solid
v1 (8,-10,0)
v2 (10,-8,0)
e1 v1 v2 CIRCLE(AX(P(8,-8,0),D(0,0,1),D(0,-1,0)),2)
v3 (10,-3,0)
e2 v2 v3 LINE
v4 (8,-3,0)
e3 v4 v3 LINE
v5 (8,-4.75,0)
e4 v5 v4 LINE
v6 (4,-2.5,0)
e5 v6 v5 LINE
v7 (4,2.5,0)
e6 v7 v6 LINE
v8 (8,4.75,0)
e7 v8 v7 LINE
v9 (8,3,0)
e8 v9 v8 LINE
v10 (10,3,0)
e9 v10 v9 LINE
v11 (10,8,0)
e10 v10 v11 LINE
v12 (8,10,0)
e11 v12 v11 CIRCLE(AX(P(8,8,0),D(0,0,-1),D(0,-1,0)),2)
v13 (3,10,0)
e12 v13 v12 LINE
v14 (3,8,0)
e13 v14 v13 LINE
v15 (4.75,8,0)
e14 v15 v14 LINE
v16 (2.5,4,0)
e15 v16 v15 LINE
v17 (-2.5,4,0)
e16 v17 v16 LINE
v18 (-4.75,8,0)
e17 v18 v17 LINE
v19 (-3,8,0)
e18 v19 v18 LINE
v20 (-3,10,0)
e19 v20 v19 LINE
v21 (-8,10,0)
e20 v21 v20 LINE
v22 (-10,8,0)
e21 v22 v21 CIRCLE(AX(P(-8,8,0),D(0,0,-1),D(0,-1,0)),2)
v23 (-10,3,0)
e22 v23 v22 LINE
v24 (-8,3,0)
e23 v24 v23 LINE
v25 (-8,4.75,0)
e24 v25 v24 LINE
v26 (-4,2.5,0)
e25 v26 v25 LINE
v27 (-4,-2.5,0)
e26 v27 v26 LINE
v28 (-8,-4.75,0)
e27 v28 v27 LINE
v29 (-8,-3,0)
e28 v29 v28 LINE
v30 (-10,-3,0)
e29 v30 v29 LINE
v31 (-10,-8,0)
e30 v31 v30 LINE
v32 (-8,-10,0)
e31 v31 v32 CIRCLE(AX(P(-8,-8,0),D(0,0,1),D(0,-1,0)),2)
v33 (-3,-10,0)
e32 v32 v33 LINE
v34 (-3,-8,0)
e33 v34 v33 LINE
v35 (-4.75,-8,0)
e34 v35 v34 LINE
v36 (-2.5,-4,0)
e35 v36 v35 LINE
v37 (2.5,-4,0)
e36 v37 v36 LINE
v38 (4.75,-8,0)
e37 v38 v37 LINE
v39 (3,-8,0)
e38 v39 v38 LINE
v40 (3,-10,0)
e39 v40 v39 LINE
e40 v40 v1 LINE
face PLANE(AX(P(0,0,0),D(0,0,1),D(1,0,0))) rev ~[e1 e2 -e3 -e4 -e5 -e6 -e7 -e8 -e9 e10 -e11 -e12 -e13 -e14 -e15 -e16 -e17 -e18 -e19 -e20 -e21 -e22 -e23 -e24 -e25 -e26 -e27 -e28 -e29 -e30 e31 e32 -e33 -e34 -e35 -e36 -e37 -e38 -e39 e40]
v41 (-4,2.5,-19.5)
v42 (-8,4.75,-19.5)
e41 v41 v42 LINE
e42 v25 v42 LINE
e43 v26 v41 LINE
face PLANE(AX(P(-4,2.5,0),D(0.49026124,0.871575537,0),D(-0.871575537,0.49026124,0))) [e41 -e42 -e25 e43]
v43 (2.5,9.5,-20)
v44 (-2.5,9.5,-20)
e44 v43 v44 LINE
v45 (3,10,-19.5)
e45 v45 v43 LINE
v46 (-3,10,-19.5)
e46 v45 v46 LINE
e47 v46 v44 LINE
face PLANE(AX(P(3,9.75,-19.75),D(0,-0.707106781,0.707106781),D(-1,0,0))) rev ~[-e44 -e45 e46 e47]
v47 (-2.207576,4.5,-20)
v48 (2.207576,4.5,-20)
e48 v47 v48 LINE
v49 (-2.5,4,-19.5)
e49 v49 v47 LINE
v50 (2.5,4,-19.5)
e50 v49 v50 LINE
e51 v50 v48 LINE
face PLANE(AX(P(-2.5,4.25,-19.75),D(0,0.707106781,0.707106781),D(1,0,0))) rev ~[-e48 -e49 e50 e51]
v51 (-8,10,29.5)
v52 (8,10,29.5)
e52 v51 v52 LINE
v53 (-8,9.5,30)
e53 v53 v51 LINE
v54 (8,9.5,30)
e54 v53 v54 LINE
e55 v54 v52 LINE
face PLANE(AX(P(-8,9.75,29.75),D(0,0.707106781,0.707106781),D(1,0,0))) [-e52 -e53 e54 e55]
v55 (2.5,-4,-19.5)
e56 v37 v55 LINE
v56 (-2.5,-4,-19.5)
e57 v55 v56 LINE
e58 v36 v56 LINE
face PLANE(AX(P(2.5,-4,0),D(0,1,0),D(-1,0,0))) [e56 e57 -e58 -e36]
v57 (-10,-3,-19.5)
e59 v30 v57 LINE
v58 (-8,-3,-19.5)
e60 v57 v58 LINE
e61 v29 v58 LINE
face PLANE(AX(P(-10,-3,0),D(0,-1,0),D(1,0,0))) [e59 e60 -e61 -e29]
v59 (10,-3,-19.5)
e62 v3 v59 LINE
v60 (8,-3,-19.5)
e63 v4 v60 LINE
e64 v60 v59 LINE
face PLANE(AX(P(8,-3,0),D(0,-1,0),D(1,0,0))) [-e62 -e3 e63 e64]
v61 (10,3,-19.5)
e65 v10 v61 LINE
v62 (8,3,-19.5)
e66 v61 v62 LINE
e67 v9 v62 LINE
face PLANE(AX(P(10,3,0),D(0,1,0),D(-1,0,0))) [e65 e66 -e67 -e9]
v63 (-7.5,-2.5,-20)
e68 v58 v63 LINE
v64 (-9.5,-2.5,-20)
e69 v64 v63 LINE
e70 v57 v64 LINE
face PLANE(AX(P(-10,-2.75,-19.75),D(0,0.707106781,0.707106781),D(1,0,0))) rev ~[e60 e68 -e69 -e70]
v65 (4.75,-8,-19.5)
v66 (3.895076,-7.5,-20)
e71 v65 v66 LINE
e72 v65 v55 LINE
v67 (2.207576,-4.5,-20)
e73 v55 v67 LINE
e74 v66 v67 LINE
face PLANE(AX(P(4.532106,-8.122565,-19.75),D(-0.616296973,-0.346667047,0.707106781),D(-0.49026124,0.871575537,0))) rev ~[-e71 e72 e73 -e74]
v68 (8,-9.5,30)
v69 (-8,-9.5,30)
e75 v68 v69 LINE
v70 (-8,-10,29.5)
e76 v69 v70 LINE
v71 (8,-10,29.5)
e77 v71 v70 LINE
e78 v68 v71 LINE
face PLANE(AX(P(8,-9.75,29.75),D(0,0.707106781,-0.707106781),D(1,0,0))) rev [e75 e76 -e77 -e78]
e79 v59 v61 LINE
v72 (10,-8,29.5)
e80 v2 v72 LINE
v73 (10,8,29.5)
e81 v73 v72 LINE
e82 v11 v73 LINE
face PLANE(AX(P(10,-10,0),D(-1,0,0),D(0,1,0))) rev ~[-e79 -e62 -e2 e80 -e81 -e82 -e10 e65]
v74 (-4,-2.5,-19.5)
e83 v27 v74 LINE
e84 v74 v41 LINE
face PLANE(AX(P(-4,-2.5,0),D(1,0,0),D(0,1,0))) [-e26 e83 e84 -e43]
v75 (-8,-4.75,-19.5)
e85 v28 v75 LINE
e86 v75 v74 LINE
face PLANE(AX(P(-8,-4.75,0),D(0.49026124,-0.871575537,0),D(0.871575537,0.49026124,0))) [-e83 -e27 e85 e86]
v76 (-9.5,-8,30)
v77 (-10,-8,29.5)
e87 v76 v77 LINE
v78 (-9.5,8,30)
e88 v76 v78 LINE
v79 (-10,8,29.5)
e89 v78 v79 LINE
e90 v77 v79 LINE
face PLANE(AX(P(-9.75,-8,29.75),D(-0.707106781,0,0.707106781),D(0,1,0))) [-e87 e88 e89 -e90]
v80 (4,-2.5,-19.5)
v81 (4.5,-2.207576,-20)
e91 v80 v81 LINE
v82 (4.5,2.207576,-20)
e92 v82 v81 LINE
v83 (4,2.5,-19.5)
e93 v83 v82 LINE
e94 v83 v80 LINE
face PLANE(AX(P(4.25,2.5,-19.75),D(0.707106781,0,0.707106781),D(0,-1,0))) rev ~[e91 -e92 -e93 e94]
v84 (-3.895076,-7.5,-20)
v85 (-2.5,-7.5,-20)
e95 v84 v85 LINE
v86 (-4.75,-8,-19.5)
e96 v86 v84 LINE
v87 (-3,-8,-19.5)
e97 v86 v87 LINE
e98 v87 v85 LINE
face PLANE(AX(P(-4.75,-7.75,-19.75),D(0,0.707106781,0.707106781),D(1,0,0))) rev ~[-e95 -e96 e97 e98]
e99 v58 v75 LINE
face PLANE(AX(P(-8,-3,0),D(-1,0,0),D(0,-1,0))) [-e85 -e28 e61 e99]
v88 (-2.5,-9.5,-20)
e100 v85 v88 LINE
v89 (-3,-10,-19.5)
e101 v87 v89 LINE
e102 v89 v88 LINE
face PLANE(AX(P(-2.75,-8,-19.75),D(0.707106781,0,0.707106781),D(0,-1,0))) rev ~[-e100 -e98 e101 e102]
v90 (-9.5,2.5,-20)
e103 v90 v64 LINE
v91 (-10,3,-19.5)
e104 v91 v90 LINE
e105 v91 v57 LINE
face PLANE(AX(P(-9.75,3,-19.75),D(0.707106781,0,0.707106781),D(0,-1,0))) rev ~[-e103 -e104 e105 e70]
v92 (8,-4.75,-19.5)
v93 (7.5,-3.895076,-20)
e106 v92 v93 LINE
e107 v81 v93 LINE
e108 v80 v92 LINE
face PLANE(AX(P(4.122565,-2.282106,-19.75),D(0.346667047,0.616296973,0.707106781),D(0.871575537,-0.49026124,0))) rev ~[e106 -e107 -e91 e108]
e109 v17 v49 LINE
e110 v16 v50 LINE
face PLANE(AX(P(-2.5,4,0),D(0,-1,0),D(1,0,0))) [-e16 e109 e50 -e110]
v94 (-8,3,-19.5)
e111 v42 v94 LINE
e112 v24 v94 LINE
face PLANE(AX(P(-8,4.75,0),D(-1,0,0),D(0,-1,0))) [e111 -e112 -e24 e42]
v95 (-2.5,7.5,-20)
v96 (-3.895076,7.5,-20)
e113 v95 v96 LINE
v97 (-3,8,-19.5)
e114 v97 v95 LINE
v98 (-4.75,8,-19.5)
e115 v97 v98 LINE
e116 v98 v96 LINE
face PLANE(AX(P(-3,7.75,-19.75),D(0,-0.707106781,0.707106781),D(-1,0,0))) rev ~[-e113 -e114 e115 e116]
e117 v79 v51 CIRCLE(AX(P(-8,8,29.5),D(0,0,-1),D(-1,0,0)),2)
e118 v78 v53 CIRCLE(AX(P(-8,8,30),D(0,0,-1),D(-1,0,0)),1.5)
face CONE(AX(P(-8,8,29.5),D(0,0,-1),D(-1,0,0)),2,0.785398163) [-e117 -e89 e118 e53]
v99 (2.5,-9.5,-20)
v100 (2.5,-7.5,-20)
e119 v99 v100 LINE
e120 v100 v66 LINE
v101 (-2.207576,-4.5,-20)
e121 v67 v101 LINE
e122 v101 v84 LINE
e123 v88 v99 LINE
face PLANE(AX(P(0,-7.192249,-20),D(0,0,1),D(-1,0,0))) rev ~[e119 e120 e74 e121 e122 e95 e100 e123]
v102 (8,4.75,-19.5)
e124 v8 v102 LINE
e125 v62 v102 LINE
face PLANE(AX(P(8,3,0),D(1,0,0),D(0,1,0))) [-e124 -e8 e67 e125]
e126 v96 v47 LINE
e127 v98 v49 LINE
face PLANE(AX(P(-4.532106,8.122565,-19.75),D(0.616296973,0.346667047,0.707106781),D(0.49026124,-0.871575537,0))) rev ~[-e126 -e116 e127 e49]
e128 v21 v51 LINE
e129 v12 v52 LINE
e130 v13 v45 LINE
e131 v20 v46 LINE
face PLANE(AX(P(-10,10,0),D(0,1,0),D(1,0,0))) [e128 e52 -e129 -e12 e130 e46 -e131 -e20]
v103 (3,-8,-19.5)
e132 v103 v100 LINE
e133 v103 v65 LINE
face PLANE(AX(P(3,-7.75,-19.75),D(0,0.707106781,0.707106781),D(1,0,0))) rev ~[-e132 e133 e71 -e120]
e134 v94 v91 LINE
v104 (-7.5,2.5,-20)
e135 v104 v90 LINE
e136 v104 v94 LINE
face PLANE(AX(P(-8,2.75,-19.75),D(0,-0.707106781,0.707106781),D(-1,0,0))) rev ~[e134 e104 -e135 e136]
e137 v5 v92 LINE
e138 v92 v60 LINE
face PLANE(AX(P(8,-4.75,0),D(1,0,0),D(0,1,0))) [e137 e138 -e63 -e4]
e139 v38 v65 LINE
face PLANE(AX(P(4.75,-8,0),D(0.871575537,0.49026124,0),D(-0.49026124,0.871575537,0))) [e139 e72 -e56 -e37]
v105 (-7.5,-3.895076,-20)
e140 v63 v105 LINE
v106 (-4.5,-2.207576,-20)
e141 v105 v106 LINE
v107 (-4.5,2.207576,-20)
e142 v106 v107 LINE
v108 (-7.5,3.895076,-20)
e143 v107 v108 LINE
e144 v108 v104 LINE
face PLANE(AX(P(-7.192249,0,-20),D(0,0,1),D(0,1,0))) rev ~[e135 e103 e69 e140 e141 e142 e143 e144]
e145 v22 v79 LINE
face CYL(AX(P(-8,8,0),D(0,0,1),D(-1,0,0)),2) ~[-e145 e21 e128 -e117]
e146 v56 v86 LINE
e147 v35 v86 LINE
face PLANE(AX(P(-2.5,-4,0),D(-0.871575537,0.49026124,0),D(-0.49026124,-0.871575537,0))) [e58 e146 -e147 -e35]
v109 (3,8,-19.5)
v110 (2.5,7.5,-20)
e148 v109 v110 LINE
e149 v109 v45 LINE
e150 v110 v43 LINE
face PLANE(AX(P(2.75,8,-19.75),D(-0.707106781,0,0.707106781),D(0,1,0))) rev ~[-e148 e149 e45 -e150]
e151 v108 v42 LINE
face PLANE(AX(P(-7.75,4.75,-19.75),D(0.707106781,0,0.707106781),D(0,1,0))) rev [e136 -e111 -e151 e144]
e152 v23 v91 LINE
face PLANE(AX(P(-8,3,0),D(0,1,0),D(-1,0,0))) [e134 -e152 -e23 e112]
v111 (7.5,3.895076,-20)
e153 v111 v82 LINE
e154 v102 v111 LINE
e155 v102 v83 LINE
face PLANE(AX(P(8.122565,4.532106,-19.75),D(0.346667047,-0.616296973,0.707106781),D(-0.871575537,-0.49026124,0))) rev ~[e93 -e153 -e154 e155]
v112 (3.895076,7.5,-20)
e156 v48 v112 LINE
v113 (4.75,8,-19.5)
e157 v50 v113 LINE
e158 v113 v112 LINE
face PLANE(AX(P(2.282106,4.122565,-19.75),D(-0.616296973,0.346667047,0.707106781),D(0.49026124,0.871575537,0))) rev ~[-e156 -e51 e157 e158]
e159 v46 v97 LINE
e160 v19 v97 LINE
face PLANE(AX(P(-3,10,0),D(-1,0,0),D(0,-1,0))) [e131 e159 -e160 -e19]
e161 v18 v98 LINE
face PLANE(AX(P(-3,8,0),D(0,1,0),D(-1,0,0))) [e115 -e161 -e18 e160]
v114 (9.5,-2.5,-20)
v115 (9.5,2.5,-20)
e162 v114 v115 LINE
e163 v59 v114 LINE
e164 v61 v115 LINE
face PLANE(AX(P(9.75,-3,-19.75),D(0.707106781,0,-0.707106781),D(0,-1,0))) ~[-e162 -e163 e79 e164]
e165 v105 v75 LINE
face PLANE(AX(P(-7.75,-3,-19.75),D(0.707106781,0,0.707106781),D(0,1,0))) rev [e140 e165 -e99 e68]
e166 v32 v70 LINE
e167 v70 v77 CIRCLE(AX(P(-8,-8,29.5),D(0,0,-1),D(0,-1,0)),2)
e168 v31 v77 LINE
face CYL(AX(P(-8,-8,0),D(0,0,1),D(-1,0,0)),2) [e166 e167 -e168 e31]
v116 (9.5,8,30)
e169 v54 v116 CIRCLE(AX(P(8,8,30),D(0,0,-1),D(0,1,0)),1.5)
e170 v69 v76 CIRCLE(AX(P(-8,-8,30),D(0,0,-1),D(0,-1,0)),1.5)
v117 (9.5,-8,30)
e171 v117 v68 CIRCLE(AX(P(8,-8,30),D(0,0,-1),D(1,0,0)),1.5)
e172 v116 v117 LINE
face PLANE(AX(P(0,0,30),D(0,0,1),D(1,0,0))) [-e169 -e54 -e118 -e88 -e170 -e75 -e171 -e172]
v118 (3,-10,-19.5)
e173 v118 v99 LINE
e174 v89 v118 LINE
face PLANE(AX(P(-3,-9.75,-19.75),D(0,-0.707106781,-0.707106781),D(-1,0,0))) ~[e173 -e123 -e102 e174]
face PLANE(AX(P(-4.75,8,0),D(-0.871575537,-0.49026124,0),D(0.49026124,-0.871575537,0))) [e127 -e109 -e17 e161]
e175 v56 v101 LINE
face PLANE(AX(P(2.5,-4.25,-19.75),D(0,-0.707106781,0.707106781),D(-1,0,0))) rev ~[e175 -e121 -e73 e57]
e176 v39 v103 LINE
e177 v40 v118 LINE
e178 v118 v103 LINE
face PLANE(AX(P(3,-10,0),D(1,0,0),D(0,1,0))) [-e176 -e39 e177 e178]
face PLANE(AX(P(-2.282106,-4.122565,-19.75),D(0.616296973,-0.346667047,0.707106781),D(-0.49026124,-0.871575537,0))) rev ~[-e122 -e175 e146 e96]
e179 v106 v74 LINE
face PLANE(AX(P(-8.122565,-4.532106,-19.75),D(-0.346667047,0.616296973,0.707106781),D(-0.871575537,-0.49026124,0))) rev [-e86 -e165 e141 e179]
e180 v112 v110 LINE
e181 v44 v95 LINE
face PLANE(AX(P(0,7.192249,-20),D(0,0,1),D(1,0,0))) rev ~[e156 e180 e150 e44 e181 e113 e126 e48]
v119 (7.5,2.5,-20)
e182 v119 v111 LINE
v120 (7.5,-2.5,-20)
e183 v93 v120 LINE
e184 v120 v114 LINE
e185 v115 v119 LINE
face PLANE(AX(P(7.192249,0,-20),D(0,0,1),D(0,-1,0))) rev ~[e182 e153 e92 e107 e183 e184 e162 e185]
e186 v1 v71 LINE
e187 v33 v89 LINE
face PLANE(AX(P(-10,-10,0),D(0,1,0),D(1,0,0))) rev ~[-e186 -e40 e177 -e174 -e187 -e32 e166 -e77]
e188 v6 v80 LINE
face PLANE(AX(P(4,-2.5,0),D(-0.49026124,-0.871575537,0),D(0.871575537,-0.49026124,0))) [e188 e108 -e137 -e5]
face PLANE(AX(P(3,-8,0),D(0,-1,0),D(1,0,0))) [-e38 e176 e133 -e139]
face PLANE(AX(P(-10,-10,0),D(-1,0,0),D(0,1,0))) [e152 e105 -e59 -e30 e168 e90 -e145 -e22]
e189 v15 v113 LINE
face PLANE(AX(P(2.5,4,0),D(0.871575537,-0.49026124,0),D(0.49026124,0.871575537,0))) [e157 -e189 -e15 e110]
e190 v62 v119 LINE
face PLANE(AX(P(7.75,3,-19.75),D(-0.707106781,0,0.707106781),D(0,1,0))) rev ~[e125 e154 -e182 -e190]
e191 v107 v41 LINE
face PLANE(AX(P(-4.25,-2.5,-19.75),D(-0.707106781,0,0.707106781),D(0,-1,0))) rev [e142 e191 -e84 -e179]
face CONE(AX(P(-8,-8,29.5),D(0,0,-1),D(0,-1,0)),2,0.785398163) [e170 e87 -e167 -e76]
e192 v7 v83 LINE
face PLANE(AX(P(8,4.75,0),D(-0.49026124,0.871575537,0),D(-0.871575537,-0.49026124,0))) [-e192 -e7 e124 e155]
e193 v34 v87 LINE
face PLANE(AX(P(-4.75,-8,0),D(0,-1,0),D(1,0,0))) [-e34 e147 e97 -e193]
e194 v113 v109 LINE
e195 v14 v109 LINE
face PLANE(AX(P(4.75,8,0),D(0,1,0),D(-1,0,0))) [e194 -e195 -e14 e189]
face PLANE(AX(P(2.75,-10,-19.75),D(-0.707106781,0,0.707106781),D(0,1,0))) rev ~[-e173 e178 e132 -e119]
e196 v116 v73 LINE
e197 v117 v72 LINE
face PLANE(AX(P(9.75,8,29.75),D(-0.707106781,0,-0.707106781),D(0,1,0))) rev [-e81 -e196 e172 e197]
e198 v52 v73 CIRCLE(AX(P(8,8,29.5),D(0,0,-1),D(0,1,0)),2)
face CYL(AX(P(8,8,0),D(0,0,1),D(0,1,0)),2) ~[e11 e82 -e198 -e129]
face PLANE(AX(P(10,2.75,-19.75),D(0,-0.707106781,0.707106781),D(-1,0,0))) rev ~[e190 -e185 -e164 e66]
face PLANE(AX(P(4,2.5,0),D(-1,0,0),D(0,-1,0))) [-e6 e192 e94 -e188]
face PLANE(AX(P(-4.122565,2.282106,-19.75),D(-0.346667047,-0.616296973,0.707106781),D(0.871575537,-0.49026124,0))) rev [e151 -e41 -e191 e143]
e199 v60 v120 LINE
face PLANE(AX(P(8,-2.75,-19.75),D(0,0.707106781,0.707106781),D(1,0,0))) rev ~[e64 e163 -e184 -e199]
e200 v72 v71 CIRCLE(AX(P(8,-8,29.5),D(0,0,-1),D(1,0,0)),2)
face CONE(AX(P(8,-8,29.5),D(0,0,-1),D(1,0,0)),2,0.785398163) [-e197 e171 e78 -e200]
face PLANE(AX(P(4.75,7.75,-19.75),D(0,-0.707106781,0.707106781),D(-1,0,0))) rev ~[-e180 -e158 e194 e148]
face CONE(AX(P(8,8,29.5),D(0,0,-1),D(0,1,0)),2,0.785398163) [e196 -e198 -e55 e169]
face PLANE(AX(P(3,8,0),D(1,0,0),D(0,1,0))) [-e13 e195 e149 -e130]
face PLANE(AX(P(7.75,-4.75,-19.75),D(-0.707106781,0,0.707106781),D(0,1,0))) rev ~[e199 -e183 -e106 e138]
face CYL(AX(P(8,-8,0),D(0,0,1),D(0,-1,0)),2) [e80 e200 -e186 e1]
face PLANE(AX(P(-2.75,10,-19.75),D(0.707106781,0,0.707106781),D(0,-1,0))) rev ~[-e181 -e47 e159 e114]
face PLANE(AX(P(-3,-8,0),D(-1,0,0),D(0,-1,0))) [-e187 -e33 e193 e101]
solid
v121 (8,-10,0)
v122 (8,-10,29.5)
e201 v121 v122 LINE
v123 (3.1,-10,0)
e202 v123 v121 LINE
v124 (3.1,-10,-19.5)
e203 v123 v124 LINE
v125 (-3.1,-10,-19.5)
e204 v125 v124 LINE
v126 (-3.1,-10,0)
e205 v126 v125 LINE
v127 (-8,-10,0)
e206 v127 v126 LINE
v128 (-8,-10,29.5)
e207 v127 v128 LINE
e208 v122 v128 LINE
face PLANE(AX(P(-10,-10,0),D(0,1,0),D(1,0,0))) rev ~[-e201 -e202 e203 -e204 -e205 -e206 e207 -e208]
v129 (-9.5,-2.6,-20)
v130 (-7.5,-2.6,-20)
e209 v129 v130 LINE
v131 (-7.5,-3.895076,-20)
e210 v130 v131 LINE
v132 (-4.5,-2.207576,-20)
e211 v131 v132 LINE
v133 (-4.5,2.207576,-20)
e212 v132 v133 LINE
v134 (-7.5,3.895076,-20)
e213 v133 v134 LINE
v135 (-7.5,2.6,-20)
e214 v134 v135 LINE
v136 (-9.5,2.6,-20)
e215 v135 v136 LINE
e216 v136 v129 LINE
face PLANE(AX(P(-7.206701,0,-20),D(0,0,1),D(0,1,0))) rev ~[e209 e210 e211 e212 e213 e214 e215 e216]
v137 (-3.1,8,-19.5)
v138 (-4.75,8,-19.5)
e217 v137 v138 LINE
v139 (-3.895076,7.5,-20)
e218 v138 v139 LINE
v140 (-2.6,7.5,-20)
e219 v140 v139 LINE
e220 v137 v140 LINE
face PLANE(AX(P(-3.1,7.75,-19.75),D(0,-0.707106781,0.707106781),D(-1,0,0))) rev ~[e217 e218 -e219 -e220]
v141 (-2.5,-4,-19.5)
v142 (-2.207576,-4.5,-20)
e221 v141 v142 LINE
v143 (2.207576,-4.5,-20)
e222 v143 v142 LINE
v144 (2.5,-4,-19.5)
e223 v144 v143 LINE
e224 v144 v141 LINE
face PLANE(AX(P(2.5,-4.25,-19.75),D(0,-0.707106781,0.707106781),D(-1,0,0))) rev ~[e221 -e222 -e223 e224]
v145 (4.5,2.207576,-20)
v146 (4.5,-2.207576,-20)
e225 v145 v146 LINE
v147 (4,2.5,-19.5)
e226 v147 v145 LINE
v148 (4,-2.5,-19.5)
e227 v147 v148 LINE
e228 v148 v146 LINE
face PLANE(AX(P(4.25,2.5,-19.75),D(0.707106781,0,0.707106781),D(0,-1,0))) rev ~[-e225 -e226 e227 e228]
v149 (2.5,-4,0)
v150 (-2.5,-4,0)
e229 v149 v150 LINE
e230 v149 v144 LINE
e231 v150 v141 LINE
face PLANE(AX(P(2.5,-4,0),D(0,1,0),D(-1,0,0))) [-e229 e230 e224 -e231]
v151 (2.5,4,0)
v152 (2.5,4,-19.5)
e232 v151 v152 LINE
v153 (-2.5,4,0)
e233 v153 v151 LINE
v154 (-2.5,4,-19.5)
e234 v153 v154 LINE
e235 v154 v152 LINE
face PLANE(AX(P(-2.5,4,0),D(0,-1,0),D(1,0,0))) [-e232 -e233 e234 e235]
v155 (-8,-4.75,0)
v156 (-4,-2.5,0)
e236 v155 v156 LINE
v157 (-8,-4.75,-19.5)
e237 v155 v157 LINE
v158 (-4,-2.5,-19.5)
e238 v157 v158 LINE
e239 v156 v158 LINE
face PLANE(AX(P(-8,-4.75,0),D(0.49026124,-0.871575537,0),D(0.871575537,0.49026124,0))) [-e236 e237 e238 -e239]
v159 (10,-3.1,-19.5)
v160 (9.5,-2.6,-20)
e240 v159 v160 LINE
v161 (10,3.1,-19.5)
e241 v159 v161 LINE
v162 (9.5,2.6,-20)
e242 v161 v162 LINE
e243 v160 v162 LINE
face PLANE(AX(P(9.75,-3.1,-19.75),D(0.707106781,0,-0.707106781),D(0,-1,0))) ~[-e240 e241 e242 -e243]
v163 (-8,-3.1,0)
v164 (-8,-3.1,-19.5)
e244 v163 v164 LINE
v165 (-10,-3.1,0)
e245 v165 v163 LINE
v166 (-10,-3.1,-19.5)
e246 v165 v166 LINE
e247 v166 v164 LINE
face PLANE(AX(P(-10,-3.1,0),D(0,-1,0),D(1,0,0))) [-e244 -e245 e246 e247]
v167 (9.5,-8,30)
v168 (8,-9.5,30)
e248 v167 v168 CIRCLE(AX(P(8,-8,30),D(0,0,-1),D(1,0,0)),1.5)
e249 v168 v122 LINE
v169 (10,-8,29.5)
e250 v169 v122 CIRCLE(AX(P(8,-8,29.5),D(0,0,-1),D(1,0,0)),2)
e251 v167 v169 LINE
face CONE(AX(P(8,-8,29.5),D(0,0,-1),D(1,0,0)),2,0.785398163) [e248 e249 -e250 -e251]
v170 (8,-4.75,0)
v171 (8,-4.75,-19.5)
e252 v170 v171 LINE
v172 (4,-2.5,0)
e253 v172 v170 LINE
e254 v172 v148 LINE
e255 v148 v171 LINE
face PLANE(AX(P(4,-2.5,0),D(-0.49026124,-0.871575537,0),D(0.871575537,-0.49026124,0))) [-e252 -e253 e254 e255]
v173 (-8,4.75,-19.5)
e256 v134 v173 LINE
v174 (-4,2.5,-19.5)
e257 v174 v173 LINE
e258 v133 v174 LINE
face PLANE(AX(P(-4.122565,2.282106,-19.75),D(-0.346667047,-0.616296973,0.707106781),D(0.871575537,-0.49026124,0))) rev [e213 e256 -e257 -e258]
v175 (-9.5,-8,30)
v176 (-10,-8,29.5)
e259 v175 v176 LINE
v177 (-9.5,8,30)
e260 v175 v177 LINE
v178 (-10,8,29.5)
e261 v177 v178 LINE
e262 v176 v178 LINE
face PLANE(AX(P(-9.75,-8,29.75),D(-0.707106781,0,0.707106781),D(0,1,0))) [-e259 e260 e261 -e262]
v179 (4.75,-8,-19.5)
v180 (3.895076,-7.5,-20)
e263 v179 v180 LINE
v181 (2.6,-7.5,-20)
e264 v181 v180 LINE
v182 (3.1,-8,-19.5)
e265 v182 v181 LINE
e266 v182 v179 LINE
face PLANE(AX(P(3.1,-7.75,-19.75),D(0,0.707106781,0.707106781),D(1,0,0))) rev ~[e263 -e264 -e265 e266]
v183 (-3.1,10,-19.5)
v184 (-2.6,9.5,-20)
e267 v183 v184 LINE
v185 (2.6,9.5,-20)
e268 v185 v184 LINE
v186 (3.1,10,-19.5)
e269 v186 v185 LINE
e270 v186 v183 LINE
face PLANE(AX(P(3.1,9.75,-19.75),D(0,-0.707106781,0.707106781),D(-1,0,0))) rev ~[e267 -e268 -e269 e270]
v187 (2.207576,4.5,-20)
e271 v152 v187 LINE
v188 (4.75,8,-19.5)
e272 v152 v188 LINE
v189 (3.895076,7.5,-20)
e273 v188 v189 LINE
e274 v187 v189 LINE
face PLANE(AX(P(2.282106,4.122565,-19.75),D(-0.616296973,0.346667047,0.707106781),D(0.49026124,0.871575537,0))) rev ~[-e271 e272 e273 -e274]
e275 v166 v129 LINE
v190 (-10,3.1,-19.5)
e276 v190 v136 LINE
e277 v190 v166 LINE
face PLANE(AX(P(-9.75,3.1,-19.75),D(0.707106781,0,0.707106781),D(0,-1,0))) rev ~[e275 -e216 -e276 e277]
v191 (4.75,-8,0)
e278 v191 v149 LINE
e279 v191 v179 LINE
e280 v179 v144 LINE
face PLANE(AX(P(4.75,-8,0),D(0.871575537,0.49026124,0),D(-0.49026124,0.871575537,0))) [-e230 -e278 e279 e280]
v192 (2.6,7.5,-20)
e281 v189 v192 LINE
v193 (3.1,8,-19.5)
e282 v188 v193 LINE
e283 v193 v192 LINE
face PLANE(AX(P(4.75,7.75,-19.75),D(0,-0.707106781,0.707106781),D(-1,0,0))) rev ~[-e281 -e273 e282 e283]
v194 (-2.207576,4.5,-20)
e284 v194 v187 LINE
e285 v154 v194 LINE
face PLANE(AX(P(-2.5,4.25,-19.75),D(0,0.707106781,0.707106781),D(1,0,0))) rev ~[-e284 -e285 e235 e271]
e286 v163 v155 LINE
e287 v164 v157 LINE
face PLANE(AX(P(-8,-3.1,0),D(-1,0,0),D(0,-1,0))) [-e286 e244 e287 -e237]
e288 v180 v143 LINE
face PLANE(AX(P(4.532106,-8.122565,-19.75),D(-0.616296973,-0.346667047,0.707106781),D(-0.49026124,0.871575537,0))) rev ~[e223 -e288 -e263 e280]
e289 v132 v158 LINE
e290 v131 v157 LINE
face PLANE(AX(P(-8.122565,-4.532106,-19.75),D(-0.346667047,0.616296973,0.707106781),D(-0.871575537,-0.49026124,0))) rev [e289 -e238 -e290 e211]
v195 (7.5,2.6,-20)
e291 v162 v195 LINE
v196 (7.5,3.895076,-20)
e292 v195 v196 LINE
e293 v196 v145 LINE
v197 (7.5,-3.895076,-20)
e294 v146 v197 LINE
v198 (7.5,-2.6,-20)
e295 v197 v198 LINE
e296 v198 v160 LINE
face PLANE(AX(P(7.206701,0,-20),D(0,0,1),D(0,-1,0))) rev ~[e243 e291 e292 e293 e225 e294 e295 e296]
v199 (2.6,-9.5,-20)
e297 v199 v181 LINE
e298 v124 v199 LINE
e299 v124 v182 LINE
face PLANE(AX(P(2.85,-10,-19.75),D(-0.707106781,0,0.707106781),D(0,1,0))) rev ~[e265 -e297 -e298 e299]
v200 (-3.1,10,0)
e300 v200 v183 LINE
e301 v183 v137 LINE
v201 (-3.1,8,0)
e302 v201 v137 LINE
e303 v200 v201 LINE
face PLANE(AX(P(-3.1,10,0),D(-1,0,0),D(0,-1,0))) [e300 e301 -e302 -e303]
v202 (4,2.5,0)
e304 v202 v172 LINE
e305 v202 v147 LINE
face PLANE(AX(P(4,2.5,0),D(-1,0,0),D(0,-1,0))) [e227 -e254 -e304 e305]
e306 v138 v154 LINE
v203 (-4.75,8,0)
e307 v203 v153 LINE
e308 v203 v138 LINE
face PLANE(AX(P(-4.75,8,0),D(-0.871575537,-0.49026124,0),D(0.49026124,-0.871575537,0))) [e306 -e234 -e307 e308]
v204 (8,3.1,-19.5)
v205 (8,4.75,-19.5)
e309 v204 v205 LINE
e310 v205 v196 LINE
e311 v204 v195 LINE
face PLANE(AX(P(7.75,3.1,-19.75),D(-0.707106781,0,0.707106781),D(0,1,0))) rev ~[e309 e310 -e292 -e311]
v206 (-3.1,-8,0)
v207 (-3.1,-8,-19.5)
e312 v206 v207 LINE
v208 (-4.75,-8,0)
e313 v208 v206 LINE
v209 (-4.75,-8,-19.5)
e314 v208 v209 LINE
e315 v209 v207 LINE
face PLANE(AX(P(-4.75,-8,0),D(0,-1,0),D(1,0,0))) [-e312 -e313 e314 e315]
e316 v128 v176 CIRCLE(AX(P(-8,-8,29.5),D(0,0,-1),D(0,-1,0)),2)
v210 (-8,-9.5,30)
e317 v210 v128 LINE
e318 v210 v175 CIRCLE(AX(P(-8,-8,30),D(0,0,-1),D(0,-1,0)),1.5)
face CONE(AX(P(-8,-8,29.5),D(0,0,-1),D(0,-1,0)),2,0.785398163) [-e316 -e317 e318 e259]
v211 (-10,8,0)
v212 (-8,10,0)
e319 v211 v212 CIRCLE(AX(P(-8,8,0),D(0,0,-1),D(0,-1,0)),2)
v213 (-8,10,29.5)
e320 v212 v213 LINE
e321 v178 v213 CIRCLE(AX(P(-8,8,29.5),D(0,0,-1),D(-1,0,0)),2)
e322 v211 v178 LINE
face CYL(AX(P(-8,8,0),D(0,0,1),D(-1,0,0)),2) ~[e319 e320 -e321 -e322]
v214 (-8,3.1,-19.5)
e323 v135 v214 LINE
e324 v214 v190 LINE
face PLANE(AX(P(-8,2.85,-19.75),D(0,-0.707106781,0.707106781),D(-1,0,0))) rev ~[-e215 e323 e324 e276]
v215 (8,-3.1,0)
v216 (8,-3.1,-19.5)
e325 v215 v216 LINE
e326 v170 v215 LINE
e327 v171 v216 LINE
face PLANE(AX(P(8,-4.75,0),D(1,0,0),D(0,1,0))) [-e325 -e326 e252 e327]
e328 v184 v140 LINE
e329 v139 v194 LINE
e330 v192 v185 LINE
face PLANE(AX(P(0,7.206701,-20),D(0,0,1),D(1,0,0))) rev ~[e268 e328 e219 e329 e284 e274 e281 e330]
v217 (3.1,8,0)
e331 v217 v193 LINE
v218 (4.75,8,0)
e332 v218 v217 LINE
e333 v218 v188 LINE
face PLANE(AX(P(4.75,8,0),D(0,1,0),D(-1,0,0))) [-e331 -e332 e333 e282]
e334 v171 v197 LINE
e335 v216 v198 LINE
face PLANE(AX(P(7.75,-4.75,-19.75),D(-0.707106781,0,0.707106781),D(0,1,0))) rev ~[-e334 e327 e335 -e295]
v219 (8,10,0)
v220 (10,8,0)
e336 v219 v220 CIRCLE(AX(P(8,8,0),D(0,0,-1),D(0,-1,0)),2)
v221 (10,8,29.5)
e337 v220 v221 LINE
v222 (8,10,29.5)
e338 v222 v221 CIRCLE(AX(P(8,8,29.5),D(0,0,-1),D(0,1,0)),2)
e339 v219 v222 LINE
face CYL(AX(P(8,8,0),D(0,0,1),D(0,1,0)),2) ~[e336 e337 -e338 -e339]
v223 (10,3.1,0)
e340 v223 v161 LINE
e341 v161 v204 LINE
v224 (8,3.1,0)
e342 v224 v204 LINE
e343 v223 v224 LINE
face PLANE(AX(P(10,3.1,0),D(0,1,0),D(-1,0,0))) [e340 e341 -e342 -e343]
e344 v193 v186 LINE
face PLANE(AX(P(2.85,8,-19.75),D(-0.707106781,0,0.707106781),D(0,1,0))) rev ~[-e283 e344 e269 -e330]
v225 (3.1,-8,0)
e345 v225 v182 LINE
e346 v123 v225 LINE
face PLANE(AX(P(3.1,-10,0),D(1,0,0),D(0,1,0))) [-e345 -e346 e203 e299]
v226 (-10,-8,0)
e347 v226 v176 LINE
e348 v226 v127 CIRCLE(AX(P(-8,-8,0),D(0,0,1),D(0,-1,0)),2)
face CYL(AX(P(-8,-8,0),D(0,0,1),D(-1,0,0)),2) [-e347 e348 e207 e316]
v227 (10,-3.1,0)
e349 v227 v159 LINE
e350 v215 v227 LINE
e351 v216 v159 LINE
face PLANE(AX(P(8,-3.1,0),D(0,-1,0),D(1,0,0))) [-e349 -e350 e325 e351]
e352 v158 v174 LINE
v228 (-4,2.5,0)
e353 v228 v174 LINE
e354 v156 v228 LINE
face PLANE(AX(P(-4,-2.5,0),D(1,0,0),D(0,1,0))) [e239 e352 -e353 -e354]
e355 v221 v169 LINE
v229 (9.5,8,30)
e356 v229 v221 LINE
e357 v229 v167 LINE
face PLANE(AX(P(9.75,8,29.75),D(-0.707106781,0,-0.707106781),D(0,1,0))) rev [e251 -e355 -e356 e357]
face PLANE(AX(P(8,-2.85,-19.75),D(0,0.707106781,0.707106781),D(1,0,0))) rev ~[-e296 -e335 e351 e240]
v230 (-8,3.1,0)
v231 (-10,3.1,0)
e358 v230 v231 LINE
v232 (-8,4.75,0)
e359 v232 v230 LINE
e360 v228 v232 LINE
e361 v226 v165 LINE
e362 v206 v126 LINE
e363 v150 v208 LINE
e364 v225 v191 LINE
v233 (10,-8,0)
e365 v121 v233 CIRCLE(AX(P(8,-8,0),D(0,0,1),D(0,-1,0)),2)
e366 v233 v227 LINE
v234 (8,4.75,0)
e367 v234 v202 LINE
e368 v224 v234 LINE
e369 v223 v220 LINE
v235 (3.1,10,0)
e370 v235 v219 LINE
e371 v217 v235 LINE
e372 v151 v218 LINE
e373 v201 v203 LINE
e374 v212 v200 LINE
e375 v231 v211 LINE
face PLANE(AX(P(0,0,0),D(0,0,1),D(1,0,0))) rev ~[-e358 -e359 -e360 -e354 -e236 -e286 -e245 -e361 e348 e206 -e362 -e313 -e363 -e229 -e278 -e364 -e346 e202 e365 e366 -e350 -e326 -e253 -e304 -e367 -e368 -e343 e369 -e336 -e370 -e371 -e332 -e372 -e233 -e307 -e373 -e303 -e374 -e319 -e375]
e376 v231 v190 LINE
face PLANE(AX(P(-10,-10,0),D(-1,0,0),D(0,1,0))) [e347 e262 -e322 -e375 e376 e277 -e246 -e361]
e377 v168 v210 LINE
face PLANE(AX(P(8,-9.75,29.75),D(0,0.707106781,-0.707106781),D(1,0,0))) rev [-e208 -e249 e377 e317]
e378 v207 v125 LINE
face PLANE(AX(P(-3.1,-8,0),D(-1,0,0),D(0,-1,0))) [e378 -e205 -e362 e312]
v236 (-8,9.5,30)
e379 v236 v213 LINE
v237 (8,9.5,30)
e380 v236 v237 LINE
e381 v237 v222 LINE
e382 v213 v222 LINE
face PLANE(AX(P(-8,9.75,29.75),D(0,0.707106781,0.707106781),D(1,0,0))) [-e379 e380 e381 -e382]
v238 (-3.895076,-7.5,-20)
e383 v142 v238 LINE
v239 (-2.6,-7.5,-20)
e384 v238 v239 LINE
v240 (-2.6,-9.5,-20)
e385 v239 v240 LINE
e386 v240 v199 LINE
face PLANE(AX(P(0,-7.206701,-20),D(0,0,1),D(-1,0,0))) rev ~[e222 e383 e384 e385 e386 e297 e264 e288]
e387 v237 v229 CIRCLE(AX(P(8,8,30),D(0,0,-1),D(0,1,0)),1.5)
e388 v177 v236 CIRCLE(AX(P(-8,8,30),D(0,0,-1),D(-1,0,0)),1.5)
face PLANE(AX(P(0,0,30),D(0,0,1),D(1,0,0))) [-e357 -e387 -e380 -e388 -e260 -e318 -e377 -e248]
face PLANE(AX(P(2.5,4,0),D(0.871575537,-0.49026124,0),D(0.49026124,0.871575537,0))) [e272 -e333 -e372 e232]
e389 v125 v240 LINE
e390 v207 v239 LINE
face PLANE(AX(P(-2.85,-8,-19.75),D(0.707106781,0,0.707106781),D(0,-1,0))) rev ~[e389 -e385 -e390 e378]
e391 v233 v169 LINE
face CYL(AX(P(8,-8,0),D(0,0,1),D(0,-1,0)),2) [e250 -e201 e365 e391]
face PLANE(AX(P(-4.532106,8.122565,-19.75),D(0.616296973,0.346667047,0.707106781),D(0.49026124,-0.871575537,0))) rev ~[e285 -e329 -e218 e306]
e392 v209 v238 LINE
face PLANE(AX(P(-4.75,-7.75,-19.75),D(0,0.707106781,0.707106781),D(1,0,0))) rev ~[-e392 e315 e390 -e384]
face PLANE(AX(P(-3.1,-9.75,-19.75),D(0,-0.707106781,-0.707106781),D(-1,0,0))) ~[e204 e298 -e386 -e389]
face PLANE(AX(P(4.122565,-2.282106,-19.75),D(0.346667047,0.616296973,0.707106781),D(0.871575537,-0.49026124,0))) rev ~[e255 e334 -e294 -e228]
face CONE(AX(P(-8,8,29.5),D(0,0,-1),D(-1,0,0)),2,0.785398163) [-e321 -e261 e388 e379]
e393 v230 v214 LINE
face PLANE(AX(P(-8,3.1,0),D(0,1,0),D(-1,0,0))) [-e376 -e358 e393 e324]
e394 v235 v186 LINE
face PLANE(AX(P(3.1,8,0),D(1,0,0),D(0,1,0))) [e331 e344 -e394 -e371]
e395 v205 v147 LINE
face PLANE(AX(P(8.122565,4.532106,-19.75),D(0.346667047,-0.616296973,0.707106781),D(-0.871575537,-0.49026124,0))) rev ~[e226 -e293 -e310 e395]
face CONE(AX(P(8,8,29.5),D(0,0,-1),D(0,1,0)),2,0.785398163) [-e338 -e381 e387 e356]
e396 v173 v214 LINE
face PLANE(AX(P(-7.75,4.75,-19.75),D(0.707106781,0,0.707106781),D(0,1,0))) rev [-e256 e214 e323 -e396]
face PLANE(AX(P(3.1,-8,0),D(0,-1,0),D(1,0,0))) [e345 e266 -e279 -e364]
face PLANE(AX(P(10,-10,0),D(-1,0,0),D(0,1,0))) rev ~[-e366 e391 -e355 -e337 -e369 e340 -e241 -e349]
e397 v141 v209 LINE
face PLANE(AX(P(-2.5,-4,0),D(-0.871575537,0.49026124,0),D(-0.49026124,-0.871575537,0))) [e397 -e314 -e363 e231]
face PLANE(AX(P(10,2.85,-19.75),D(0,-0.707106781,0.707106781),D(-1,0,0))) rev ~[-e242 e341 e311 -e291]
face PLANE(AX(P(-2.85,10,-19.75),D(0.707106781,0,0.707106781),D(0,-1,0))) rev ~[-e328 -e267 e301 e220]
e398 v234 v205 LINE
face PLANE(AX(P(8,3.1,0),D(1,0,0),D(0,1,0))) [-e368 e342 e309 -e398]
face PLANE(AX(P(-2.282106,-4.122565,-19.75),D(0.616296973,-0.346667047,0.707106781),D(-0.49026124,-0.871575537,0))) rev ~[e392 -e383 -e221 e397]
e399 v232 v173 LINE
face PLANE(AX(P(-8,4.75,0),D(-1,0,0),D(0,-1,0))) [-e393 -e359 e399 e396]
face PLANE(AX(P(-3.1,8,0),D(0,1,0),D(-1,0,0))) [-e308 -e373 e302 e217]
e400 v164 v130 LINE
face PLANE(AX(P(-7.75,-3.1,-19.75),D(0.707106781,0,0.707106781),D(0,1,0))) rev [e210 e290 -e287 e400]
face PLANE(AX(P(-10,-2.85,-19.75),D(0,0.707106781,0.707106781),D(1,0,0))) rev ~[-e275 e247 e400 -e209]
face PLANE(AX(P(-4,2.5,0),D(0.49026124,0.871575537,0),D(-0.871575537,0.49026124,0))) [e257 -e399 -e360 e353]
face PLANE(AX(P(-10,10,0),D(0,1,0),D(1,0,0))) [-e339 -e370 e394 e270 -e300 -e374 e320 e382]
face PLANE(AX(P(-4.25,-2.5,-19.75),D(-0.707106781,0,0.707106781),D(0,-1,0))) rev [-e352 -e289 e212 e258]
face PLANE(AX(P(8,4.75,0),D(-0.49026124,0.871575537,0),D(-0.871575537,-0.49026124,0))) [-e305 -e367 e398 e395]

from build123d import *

# Parameters (mm, degrees)
SKETCH001_W           = 20
SKETCH001_H           = 20
PAD_DEPTH             = 30
PAD001_DEPTH          = 20
POLARPATTERN_COUNT    = 4
FILLET_R              = 2
CHAMFER_SIZE          = 0.5
SKETCH003_W           = 20
SKETCH003_H           = 20
PAD002_DEPTH          = 30
PAD003_DEPTH          = 20
POLARPATTERN001_COUNT = 4
FILLET001_R           = 2
CHAMFER001_SIZE       = 0.5


with BuildPart() as f_6mm:
    # Sketch001 → Pad (new body)
    with BuildSketch(Plane.XY):
        Rectangle(SKETCH001_W, SKETCH001_H)
    extrude(amount=PAD_DEPTH)

    # Sketch → Pad001 (join)
    with BuildSketch(Plane.XY):
        Polygon((-2.5, 4), (2.5, 4), (4.75, 8), (3, 8), (3, 10), (-3, 10), (-3, 8), (-4.75, 8), align=None)
    pad001 = extrude(amount=-PAD001_DEPTH)

    # PolarPattern: Pad001 ×4 about axis
    polarpattern_axis = Axis((0, 0, 0), (0, 0, 1))
    for i in range(1, POLARPATTERN_COUNT):
        add(pad001.rotate(polarpattern_axis, i * 360 / POLARPATTERN_COUNT))

    # Fillet
    fillet_edges = [f_6mm.edges().sort_by_distance(p)[0] for p in [
        (-10, 10, 15),
        (10, 10, 15),
        (10, -10, 15),
        (-10, -10, 15),
    ]]
    fillet(fillet_edges, radius=FILLET_R)

    # Chamfer
    chamfer_edges = [f_6mm.edges().sort_by_distance(p)[0] for p in [
        (0, 10, 30),
        (-9.414214, 9.414214, 30),
        (9.414214, 9.414214, 30),
        (-10, 0, 30),
        (10, 0, 30),
        (-9.414214, -9.414214, 30),
        (9.414214, -9.414214, 30),
        (0, -10, 30),
        (0, 4, -20),
        (3.625, 6, -20),
        (3.875, 8, -20),
        (3, 9, -20),
        (0, 10, -20),
        (-3, 9, -20),
        (-3.875, 8, -20),
        (-3.625, 6, -20),
        (4, 0, -20),
        (6, -3.625, -20),
        (8, -3.875, -20),
        (9, -3, -20),
        (10, 0, -20),
        (9, 3, -20),
        (8, 3.875, -20),
        (6, 3.625, -20),
        (0, -4, -20),
        (-3.625, -6, -20),
        (-3.875, -8, -20),
        (-3, -9, -20),
        (0, -10, -20),
        (3, -9, -20),
        (3.875, -8, -20),
        (3.625, -6, -20),
        (-4, 0, -20),
        (-6, 3.625, -20),
        (-8, 3.875, -20),
        (-9, 3, -20),
        (-10, 0, -20),
        (-9, -3, -20),
        (-8, -3.875, -20),
        (-6, -3.625, -20),
    ]]
    chamfer(chamfer_edges, length=CHAMFER_SIZE)


with BuildPart() as f_6_2mm:
    # Sketch003 → Pad002 (new body)
    with BuildSketch(Plane.XY):
        Rectangle(SKETCH003_W, SKETCH003_H)
    extrude(amount=PAD002_DEPTH)

    # Sketch002 → Pad003 (join)
    with BuildSketch(Plane.XY):
        Polygon((-2.5, 4), (2.5, 4), (4.75, 8), (3.1, 8), (3.1, 10), (-3.1, 10), (-3.1, 8), (-4.75, 8), align=None)
    pad003 = extrude(amount=-PAD003_DEPTH)

    # PolarPattern001: Pad003 ×4 about axis
    polarpattern001_axis = Axis((0, 0, 0), (0, 0, 1))
    for i in range(1, POLARPATTERN001_COUNT):
        add(pad003.rotate(polarpattern001_axis, i * 360 / POLARPATTERN001_COUNT))

    # Fillet001
    fillet001_edges = [f_6_2mm.edges().sort_by_distance(p)[0] for p in [
        (-10, 10, 15),
        (10, 10, 15),
        (10, -10, 15),
        (-10, -10, 15),
    ]]
    fillet(fillet001_edges, radius=FILLET001_R)

    # Chamfer001
    chamfer001_edges = [f_6_2mm.edges().sort_by_distance(p)[0] for p in [
        (0, 10, 30),
        (-9.414214, 9.414214, 30),
        (9.414214, 9.414214, 30),
        (-10, 0, 30),
        (10, 0, 30),
        (-9.414214, -9.414214, 30),
        (9.414214, -9.414214, 30),
        (0, -10, 30),
        (0, 4, -20),
        (3.625, 6, -20),
        (3.925, 8, -20),
        (3.1, 9, -20),
        (0, 10, -20),
        (-3.1, 9, -20),
        (-3.925, 8, -20),
        (-3.625, 6, -20),
        (4, 0, -20),
        (6, -3.625, -20),
        (8, -3.925, -20),
        (9, -3.1, -20),
        (10, 0, -20),
        (9, 3.1, -20),
        (8, 3.925, -20),
        (6, 3.625, -20),
        (0, -4, -20),
        (-3.625, -6, -20),
        (-3.925, -8, -20),
        (-3.1, -9, -20),
        (0, -10, -20),
        (3.1, -9, -20),
        (3.925, -8, -20),
        (3.625, -6, -20),
        (-4, 0, -20),
        (-6, 3.625, -20),
        (-8, 3.925, -20),
        (-9, 3.1, -20),
        (-10, 0, -20),
        (-9, -3.1, -20),
        (-8, -3.925, -20),
        (-6, -3.625, -20),
    ]]
    chamfer(chamfer001_edges, length=CHAMFER001_SIZE)


solid = Compound([f_6mm.part, f_6_2mm.part])
